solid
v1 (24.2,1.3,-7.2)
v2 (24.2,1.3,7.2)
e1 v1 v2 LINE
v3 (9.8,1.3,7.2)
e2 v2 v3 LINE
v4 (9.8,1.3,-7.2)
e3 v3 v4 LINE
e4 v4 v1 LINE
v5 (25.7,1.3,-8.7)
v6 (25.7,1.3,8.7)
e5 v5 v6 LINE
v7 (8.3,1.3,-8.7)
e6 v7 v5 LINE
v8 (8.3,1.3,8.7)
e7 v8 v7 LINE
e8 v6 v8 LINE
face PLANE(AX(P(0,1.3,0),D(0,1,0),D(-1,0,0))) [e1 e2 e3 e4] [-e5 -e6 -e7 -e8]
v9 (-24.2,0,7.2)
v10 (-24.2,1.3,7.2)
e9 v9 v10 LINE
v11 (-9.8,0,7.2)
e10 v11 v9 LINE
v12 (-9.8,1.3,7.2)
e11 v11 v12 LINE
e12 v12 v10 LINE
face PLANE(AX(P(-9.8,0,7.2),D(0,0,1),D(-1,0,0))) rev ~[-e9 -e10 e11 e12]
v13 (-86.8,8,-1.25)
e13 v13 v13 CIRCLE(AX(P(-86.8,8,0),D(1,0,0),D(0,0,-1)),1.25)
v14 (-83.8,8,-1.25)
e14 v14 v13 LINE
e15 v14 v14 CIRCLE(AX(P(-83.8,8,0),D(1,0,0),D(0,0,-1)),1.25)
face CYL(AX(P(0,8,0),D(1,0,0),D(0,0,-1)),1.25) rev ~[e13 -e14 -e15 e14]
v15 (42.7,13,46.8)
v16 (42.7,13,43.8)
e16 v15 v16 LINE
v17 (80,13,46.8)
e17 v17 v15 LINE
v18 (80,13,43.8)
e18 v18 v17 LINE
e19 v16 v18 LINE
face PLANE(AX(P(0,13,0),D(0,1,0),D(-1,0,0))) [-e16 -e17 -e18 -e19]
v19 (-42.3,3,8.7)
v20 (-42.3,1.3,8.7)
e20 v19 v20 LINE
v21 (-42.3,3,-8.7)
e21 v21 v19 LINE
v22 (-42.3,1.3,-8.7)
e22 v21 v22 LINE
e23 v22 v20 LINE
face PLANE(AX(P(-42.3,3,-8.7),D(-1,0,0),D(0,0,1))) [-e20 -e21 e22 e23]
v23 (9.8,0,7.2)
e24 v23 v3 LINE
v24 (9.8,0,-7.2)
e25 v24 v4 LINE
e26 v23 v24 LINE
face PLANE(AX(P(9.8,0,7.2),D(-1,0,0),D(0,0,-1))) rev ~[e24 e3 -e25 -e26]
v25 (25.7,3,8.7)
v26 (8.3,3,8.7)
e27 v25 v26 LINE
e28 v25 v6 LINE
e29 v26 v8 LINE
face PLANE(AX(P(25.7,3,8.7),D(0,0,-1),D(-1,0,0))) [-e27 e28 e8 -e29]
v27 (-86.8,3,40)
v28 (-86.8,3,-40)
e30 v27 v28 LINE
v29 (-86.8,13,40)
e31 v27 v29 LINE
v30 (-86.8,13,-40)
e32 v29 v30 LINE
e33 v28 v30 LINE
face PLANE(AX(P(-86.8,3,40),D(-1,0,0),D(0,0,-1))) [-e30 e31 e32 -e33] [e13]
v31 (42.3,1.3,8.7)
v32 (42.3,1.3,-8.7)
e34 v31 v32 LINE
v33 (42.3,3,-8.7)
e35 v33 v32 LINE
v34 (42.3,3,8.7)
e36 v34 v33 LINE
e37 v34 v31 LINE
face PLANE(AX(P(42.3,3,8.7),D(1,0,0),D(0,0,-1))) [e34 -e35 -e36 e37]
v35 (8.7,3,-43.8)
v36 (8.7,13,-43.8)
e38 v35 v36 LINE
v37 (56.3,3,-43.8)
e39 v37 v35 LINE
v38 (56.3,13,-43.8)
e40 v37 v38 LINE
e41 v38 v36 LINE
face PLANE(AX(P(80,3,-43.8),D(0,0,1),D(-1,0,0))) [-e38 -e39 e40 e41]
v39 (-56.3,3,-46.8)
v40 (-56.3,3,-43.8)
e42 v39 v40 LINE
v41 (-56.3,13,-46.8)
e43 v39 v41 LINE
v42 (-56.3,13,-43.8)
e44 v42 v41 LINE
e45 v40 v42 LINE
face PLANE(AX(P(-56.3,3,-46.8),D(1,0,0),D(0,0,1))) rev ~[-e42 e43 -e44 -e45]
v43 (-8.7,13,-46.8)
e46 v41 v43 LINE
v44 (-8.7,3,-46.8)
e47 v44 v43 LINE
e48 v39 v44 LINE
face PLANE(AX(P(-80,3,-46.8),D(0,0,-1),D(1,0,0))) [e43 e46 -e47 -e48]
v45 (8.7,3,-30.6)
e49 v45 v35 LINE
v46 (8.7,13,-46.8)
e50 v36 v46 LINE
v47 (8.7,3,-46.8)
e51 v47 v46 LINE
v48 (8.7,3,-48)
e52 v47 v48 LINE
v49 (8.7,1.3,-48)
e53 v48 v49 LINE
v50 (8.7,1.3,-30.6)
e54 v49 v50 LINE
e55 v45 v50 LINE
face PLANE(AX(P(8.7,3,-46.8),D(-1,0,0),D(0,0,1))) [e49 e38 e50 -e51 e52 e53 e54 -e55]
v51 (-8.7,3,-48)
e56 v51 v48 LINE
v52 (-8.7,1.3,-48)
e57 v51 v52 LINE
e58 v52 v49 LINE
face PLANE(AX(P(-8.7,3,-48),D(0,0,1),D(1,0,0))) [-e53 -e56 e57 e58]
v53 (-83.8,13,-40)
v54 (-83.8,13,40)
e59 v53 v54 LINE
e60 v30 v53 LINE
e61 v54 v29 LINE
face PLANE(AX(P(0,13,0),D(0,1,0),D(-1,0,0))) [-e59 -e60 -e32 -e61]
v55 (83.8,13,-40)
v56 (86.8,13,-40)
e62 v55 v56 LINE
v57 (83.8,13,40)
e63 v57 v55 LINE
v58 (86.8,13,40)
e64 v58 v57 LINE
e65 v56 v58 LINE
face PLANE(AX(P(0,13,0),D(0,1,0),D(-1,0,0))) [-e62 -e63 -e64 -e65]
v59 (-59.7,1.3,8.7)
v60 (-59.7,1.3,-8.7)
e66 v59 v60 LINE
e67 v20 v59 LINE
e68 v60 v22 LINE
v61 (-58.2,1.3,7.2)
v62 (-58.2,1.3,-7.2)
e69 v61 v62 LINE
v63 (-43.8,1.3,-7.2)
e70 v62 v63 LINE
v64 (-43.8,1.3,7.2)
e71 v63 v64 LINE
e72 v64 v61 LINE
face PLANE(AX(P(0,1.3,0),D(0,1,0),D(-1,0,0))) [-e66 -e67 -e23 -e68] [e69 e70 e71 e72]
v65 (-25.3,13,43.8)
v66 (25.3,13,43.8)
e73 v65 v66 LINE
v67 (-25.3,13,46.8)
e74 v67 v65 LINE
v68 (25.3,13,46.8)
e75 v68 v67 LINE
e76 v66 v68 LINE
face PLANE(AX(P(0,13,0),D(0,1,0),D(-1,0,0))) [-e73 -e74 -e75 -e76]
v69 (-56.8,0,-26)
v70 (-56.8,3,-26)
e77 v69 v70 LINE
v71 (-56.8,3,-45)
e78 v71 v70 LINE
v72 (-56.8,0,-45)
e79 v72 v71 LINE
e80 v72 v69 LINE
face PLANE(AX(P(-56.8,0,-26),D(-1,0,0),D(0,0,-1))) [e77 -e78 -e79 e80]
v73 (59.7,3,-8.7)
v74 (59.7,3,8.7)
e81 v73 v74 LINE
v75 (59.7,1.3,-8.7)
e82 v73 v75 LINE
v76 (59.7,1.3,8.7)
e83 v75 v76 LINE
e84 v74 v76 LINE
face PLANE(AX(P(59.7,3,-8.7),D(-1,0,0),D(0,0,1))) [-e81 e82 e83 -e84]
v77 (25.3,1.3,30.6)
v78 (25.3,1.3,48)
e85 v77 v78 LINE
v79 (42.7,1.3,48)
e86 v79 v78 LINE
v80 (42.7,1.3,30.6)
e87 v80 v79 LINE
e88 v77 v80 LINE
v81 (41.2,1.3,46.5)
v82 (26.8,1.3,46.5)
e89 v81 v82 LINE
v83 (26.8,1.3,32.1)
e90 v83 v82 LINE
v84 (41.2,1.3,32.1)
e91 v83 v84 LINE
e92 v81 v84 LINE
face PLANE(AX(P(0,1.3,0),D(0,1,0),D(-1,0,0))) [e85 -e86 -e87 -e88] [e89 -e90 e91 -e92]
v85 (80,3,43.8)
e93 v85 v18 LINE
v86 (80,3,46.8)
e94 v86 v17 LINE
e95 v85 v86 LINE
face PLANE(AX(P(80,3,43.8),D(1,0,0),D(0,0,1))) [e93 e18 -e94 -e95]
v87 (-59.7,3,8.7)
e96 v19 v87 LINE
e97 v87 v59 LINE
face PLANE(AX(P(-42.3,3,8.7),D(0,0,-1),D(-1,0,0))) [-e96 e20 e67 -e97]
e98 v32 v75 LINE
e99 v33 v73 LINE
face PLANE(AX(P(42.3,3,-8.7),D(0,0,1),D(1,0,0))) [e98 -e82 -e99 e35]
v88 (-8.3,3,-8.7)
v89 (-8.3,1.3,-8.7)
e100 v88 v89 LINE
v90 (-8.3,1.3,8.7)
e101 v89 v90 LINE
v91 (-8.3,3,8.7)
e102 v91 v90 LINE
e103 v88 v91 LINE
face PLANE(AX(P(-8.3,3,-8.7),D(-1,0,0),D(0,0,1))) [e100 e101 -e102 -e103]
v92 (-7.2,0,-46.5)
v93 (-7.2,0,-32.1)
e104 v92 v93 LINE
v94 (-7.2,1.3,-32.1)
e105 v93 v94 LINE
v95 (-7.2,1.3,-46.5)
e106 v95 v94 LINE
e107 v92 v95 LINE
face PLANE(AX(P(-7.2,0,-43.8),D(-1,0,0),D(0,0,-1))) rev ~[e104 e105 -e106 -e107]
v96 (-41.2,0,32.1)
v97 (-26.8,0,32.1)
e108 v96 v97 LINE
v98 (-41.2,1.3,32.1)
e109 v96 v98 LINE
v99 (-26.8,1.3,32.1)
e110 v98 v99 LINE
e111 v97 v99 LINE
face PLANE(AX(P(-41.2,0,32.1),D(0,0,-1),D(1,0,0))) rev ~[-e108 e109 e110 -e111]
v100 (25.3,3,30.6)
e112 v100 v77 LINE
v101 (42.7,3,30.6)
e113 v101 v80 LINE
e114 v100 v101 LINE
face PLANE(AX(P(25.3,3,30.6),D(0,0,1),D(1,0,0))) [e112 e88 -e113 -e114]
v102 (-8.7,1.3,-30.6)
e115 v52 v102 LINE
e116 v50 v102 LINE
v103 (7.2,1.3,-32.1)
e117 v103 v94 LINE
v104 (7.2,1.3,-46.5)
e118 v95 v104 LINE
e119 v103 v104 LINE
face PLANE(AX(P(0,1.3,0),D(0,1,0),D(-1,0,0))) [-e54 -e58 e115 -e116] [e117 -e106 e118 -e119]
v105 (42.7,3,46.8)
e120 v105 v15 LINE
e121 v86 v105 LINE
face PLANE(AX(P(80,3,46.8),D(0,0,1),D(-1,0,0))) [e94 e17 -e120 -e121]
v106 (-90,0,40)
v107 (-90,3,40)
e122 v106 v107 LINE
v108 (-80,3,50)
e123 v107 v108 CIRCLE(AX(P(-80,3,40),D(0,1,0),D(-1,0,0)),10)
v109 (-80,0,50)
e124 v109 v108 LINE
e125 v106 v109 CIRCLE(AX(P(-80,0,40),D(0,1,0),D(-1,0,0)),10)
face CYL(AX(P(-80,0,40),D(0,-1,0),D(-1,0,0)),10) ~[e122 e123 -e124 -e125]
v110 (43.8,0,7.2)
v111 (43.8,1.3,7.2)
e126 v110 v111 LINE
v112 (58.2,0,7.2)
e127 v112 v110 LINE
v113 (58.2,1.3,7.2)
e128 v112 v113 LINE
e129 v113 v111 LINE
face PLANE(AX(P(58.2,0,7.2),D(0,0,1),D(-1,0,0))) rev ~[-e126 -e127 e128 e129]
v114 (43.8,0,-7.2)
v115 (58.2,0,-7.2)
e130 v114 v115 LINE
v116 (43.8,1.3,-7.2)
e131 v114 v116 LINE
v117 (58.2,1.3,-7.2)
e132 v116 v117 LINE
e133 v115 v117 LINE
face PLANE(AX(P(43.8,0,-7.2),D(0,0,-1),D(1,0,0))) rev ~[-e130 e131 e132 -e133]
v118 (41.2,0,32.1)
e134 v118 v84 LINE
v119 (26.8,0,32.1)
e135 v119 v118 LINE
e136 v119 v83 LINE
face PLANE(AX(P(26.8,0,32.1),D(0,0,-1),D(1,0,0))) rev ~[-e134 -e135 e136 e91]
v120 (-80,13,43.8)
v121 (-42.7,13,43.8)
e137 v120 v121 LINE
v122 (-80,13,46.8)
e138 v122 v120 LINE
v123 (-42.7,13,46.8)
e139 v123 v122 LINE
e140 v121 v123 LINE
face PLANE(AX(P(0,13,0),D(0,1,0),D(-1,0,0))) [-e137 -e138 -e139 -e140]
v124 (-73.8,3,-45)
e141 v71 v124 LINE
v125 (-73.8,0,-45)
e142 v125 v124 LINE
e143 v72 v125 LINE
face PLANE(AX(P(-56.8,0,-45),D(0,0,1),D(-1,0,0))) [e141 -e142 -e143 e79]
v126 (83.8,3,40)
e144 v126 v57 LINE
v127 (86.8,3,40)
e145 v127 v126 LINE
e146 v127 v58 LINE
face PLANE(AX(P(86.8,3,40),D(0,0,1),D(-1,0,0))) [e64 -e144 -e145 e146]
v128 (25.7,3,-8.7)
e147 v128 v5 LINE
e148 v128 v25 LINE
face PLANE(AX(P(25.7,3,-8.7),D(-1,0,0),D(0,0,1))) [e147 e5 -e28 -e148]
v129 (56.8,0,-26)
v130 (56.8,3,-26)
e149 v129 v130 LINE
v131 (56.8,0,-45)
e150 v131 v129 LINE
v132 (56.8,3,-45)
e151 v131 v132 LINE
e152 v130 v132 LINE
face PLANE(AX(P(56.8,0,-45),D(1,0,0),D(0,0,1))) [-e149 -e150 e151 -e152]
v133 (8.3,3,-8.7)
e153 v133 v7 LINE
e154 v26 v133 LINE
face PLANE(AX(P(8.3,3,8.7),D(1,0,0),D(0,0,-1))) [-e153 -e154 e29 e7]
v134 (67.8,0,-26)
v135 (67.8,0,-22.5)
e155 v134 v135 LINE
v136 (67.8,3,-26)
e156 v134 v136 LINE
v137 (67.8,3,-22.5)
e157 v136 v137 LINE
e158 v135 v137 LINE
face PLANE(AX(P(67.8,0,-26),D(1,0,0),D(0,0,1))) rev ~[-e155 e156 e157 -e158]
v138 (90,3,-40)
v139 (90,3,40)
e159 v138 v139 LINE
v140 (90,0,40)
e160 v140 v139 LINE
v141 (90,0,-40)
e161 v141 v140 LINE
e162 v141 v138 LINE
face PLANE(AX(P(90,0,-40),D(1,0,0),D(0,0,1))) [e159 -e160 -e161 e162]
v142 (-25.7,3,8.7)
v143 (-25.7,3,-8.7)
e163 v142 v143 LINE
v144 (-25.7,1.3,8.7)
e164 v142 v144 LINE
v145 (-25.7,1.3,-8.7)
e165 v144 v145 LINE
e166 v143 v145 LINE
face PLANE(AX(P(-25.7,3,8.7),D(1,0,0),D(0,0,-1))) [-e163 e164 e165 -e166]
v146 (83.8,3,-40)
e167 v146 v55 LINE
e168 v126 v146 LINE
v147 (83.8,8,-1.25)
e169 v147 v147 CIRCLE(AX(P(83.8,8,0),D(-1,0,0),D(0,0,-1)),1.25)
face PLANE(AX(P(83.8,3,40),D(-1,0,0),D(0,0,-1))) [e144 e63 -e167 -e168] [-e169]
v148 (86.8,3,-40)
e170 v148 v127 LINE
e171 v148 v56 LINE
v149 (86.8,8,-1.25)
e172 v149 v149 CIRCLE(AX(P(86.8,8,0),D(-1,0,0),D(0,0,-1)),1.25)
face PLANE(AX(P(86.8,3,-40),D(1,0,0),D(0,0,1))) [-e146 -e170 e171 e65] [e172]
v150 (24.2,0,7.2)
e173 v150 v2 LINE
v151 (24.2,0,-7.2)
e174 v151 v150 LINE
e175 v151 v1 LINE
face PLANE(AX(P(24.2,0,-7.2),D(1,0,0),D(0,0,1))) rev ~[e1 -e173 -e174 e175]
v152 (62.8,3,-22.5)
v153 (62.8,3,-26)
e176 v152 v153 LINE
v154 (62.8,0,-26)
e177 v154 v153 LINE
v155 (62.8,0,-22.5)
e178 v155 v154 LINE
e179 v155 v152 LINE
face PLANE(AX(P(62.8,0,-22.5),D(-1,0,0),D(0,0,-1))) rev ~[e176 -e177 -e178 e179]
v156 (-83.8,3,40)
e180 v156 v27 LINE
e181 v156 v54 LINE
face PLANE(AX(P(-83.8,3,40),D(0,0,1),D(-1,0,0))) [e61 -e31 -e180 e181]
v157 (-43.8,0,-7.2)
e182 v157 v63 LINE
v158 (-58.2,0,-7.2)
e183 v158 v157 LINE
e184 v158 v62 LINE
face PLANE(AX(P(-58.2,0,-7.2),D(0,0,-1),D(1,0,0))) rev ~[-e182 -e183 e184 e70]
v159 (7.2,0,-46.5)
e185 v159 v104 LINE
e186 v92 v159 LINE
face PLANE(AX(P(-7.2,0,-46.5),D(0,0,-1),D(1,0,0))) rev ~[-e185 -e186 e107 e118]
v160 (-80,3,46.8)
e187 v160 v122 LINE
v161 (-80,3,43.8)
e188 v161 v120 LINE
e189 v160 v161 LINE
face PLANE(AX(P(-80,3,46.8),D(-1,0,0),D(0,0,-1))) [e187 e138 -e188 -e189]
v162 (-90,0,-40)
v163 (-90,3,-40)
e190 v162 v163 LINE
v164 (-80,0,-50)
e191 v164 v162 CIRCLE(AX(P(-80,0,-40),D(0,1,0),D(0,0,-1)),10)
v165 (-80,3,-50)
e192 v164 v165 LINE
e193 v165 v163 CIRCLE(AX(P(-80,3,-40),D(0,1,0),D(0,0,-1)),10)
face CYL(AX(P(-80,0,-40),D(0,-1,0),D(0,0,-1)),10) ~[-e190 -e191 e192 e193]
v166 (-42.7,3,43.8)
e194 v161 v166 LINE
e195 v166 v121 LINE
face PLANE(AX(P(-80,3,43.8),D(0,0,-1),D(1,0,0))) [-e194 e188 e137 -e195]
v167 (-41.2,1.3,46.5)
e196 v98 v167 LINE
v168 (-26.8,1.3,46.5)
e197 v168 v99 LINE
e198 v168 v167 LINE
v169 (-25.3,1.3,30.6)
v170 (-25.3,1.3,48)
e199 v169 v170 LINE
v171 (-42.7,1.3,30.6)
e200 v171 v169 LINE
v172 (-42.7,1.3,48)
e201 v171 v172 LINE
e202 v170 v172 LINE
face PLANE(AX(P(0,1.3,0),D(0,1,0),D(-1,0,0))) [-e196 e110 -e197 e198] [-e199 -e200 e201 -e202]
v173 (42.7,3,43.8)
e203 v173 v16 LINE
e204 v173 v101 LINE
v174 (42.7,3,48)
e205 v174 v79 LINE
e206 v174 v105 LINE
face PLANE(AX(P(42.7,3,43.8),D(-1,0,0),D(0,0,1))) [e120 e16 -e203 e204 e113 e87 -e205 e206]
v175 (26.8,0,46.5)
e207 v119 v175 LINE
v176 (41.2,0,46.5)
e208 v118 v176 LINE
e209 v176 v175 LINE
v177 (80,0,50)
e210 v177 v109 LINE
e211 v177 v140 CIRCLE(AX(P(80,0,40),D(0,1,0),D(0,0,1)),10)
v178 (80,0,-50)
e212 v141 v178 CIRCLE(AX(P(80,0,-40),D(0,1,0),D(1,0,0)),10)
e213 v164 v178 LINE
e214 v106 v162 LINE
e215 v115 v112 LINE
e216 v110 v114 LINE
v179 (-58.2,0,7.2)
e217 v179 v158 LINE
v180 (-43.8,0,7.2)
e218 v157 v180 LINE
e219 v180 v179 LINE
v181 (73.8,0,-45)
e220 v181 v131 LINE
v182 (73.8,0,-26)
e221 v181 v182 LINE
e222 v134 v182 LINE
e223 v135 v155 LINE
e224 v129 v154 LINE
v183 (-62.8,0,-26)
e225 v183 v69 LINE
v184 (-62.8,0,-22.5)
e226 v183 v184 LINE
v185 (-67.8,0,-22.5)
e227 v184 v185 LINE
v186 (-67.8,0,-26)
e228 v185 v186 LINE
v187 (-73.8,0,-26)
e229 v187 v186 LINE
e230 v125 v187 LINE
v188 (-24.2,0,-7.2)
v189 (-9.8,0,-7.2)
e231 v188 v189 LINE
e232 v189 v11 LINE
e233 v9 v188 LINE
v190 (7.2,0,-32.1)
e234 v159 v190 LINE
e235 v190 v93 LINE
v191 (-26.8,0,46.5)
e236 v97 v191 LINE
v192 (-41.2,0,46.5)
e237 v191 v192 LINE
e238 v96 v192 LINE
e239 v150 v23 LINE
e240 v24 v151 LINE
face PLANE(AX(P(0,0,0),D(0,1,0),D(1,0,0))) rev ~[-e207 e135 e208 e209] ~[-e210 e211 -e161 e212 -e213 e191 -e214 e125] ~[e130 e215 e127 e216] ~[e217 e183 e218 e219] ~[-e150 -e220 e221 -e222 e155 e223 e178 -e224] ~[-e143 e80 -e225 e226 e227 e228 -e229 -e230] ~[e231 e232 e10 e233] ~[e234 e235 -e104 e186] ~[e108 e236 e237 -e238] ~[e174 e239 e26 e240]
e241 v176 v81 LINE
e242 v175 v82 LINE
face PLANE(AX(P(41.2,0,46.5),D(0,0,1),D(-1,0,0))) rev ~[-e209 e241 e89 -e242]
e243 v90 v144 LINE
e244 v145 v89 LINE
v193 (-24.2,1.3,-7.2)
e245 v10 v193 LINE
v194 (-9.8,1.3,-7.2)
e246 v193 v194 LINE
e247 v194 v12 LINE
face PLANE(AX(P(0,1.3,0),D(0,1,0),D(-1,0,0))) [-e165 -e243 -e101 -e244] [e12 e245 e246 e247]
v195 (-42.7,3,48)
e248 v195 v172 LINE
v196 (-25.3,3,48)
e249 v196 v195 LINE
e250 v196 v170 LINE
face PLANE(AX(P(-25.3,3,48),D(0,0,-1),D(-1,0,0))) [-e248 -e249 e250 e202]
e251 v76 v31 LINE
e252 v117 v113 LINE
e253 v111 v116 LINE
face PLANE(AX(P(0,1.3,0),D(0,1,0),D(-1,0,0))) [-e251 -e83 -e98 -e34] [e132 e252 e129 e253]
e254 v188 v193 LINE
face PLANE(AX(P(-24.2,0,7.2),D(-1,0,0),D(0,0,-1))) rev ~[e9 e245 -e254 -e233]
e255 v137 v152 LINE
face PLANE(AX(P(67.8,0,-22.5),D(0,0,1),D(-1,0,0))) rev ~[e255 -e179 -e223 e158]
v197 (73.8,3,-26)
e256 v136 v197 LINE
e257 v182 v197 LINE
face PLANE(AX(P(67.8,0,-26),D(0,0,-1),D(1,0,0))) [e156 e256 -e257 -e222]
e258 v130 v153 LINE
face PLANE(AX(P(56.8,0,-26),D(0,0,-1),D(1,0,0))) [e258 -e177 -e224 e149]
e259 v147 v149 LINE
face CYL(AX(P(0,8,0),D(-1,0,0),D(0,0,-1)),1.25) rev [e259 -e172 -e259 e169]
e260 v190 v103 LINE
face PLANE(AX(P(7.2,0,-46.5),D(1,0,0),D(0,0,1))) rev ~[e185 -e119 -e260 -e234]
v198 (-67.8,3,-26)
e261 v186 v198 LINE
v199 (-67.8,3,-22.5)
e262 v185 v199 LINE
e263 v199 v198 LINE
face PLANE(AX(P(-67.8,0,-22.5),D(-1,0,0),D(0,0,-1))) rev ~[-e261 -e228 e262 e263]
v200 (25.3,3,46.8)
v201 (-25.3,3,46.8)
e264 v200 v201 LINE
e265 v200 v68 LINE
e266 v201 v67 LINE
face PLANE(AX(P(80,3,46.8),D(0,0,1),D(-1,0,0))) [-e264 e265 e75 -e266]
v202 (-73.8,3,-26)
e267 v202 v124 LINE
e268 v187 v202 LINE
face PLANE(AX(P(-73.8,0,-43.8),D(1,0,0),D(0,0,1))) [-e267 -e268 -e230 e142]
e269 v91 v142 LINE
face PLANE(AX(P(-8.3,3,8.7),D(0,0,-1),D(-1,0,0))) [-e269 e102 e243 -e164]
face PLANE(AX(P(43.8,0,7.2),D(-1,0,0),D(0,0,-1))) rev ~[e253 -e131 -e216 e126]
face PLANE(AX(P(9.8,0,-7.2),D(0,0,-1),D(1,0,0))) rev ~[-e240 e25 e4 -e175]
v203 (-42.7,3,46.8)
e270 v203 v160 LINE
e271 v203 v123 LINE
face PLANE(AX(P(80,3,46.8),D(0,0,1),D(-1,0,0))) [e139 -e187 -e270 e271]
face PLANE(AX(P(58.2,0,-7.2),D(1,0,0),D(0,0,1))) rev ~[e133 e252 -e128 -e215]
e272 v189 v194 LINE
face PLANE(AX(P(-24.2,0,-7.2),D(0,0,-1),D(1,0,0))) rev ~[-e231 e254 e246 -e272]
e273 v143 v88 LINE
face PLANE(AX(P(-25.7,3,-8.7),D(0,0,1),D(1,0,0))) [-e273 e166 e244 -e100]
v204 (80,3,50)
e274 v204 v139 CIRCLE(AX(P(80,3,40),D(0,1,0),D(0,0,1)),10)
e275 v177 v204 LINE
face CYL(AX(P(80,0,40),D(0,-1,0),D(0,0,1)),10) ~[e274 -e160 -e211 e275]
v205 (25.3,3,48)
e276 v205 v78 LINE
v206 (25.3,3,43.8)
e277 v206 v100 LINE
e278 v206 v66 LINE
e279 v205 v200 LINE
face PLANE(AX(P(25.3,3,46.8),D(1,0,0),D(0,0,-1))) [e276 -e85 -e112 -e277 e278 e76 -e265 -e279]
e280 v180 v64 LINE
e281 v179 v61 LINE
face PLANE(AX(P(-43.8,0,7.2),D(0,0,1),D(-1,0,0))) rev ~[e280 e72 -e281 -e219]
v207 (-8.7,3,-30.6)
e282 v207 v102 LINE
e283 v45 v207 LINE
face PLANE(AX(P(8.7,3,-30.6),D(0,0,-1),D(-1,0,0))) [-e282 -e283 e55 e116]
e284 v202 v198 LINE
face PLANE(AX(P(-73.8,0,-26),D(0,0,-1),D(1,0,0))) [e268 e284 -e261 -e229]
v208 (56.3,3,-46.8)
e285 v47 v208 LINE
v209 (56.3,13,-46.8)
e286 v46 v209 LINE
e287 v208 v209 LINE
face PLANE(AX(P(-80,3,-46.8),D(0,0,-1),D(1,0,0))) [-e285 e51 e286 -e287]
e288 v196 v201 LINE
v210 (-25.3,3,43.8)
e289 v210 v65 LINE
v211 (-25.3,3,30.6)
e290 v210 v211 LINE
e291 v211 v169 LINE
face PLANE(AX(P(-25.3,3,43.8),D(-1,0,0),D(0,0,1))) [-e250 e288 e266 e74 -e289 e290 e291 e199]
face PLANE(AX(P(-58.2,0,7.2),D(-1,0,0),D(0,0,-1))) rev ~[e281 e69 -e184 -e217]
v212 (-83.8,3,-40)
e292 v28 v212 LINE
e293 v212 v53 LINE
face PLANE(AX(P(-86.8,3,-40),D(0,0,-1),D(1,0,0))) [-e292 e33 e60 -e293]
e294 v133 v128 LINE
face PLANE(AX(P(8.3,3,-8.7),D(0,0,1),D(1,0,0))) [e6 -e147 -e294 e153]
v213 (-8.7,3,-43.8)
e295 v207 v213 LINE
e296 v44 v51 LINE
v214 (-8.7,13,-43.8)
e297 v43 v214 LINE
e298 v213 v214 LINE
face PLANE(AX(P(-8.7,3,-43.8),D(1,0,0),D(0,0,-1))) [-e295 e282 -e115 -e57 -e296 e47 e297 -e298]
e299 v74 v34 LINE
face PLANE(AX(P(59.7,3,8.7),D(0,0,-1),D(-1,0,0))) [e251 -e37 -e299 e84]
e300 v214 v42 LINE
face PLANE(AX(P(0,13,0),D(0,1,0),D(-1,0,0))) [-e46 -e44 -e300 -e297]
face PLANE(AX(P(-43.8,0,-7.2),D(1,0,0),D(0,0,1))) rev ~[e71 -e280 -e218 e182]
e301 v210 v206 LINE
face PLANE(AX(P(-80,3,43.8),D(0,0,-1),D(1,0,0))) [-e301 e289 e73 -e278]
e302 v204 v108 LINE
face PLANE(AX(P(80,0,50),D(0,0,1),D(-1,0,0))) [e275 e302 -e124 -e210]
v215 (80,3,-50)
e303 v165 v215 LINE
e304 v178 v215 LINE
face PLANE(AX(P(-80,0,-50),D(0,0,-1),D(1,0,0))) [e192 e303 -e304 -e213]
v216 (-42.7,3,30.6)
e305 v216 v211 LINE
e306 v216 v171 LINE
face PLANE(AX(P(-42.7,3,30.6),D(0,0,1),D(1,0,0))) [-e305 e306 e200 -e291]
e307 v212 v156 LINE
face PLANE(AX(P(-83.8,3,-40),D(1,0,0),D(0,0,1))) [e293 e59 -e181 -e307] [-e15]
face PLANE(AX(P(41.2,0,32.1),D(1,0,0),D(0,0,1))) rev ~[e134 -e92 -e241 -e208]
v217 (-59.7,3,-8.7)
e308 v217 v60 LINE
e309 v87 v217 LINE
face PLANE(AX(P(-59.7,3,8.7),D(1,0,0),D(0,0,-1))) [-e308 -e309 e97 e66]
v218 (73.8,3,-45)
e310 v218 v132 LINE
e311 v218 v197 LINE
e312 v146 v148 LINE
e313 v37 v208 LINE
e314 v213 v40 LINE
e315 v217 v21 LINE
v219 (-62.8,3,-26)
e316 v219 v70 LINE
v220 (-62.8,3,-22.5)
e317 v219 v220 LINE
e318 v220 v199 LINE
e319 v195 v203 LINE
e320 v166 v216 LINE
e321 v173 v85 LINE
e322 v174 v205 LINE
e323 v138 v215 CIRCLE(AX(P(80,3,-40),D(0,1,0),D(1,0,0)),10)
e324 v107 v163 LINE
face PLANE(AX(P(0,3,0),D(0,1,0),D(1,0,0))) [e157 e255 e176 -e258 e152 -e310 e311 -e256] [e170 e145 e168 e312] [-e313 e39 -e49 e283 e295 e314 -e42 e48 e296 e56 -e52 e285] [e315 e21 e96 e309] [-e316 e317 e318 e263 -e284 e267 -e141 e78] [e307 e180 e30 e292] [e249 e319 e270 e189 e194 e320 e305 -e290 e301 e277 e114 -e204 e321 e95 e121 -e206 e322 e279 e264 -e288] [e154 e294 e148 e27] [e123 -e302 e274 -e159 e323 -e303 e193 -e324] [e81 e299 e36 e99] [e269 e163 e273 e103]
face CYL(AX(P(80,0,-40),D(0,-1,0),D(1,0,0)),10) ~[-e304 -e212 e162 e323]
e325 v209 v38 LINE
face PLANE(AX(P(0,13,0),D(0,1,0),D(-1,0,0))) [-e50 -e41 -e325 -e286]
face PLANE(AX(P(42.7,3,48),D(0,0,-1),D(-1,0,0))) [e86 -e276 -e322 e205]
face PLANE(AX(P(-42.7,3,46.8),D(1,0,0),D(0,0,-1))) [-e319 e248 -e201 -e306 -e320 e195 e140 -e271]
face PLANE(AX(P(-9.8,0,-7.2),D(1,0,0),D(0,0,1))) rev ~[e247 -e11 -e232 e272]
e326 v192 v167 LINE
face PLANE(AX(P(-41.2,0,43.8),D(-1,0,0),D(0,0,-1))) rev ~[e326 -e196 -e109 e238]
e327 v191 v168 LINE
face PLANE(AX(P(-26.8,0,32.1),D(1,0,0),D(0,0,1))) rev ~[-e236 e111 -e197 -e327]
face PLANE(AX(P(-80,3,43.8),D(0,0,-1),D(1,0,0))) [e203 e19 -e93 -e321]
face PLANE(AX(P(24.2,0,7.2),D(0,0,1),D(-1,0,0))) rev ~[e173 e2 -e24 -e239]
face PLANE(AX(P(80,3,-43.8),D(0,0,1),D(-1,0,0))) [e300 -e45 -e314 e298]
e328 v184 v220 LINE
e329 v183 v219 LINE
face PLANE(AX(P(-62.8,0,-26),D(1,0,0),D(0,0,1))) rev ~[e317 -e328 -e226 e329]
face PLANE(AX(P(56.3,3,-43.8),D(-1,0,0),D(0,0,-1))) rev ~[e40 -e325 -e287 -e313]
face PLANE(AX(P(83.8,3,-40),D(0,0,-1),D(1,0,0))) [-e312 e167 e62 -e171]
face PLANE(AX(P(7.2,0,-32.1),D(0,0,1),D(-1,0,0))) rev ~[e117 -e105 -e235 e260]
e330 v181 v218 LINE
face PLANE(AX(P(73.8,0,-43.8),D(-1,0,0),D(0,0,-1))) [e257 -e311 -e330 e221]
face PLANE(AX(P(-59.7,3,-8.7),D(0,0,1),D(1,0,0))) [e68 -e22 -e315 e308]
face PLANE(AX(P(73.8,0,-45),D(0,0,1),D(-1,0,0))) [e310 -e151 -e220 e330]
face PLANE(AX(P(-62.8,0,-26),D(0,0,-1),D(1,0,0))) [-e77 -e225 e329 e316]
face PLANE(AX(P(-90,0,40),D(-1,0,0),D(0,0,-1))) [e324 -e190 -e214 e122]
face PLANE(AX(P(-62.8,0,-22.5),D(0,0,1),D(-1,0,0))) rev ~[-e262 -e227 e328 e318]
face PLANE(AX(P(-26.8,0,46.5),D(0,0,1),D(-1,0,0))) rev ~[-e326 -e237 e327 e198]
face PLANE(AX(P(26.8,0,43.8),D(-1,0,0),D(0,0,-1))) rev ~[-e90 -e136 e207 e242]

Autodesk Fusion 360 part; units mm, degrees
sketch "Top" plane through (0, 0, 0) normal (0, 1, 0) x (1, 0, 0)
  line L0 (-80, 50) -> (80, 50)
  line L1 (90, 40) -> (90, -40)
  line L2 (80, -50) -> (-80, -50)
  line L3 (-90, -40) -> (-90, 40)
  line L4 (-90, 50) -> (90, -50) construction
  line L5 (90, 50) -> (-90, -50) construction
  arc A0 (-80, 50) -> (-90, 40) centre (-80, 40) ccw
  arc A1 (90, 40) -> (80, 50) centre (80, 40) ccw
  arc A2 (80, -50) -> (90, -40) centre (80, -40) ccw
  arc A3 (-90, -40) -> (-80, -50) centre (-80, -40) ccw
  dimension "d310" = 180
  dimension "d311" = 100
  dimension "d312" = 10
extrude "Top Extrusion" add sketch "Top" along normal blind 3
sketch "Tabs" plane through (0, 3, 0) normal (0, 1, 0) x (-1, 0, 0)
  arc A0 (80, -50) -> (90, -40) centre (80, -40) ccw
  line L0 (90, -40) -> (90, 40)
  arc A1 (90, 40) -> (80, 50) centre (80, 40) ccw
  line L1 (80, 50) -> (-80, 50)
  arc A2 (-80, 50) -> (-90, 40) centre (-80, 40) ccw
  line L2 (-90, 40) -> (-90, -40)
  arc A3 (-90, -40) -> (-80, -50) centre (-80, -40) ccw
  line L3 (-80, -50) -> (80, -50)
  line L4 (86.8, -40) -> (83.8, -40)
  line L5 (83.8, -40) -> (83.8, 40)
  line L6 (83.8, 40) -> (86.8, 40)
  line L7 (86.8, 40) -> (86.8, -40)
  line L8 (86.8, -40) -> (83.8, 40) construction
  line L9 (83.8, -40) -> (86.8, 40) construction
  line L10 (80, -46.8) -> (-80, -46.8)
  line L11 (-80, -46.8) -> (-80, -43.8)
  line L12 (-80, -43.8) -> (80, -43.8)
  line L13 (80, -43.8) -> (80, -46.8)
  line L14 (80, -46.8) -> (-80, -43.8) construction
  line L15 (-80, -46.8) -> (80, -43.8) construction
  line L16 (80, 43.8) -> (-80, 43.8)
  line L17 (-80, 43.8) -> (-80, 46.8)
  line L18 (-80, 46.8) -> (80, 46.8)
  line L19 (80, 46.8) -> (80, 43.8)
  line L20 (80, 43.8) -> (-80, 46.8) construction
  line L21 (-80, 43.8) -> (80, 46.8) construction
  line L22 (-83.8, -40) -> (-86.8, -40)
  line L23 (-86.8, -40) -> (-86.8, 40)
  line L24 (-86.8, 40) -> (-83.8, 40)
  line L25 (-83.8, 40) -> (-83.8, -40)
  line L26 (-83.8, -40) -> (-86.8, 40) construction
  line L27 (-86.8, -40) -> (-83.8, 40) construction
  point P0 (85.3, 0)
  point P1 (0, -45.3)
  point P2 (0, 45.3)
  point P3 (-85.3, 0)
  dimension "d315" = 3
  dimension "d316" = 10
  dimension "d317" = 10
  dimension "d318" = 3.2
  dimension "d319" = 3
  dimension "d320" = 10
  dimension "d321" = 10
  dimension "d322" = 3.2
  dimension "d324" = 3
  dimension "d325" = 10
  dimension "d326" = 10
  dimension "d327" = 3
  dimension "d329" = 10
  dimension "d330" = 10
  dimension "d333" = 3.2
  dimension "d334" = 3.2
extrude "Tabs Extrusion" add sketch "Tabs" along normal blind 10 contours L4 L5 L6 L7 | L10 L11 L12 L13 | L16 L17 L18 L19 | L22 L23 L24 L25
sketch "Switches" plane through (0, 3, 0) normal (0, 1, 0) x (-1, 0, 0)
  line L0 (86.8, 40) -> (86.8, -40)
  line L1 (86.8, -40) -> (83.8, -40)
  line L2 (83.8, -40) -> (83.8, 40)
  line L3 (83.8, 40) -> (86.8, 40)
  line L4 (80, -43.8) -> (80, -46.8)
  line L5 (80, -46.8) -> (-80, -46.8)
  line L6 (-80, -46.8) -> (-80, -43.8)
  line L7 (-80, -43.8) -> (80, -43.8)
  line L8 (80, 46.8) -> (80, 43.8)
  line L9 (80, 43.8) -> (-80, 43.8)
  line L10 (-80, 43.8) -> (-80, 46.8)
  line L11 (-80, 46.8) -> (80, 46.8)
  line L12 (-83.8, 40) -> (-83.8, -40)
  line L13 (-83.8, -40) -> (-86.8, -40)
  line L14 (-86.8, -40) -> (-86.8, 40)
  line L15 (-86.8, 40) -> (-83.8, 40)
  arc A0 (80, -50) -> (90, -40) centre (80, -40) ccw
  line L16 (90, -40) -> (90, 40)
  arc A1 (90, 40) -> (80, 50) centre (80, 40) ccw
  line L17 (80, 50) -> (-80, 50)
  arc A2 (-80, 50) -> (-90, 40) centre (-80, 40) ccw
  line L18 (-90, 40) -> (-90, -40)
  arc A3 (-90, -40) -> (-80, -50) centre (-80, -40) ccw
  line L19 (-80, -50) -> (80, -50)
  line L20 (-59.7, 8.7) -> (-42.3, 8.7)
  line L21 (-42.3, 8.7) -> (-42.3, -8.7)
  line L22 (-58.2, -7.2) -> (-58.2, 7.2)
  line L23 (-42.3, -8.7) -> (-59.7, -8.7)
  line L24 (-43.8, 7.2) -> (-43.8, -7.2)
  line L25 (-58.2, 7.2) -> (-43.8, 7.2)
  line L26 (-43.8, -7.2) -> (-58.2, 7.2) construction
  line L27 (-59.7, -8.7) -> (-59.7, 8.7)
  line L28 (-59.7, -8.7) -> (-42.3, 8.7) construction
  line L29 (-58.2, -7.2) -> (-43.8, 7.2) construction
  line L30 (-42.3, -8.7) -> (-59.7, 8.7) construction
  line L31 (-43.8, -7.2) -> (-58.2, -7.2)
  line L32 (24.2, 7.2) -> (24.2, -7.2)
  line L33 (8.3, -8.7) -> (8.3, 8.7)
  line L34 (25.7, -8.7) -> (8.3, 8.7) construction
  line L35 (9.8, 7.2) -> (24.2, 7.2)
  line L36 (24.2, -7.2) -> (9.8, 7.2) construction
  line L37 (8.3, -8.7) -> (25.7, 8.7) construction
  line L38 (9.8, -7.2) -> (24.2, 7.2) construction
  line L39 (24.2, -7.2) -> (9.8, -7.2)
  line L40 (25.7, 8.7) -> (25.7, -8.7)
  line L41 (9.8, -7.2) -> (9.8, 7.2)
  line L42 (25.7, -8.7) -> (8.3, -8.7)
  line L43 (8.3, 8.7) -> (25.7, 8.7)
  line L44 (-26.8, 32.1) -> (-41.2, 46.5) construction
  line L45 (-41.2, 46.5) -> (-26.8, 46.5)
  line L46 (-25.3, 30.6) -> (-42.7, 30.6)
  line L47 (-42.7, 48) -> (-25.3, 48)
  line L48 (-41.2, 32.1) -> (-41.2, 46.5)
  line L49 (-25.3, 48) -> (-25.3, 30.6)
  line L50 (-42.7, 30.6) -> (-42.7, 48)
  line L51 (-25.3, 30.6) -> (-42.7, 48) construction
  line L52 (-26.8, 32.1) -> (-41.2, 32.1)
  line L53 (-41.2, 32.1) -> (-26.8, 46.5) construction
  line L54 (-42.7, 30.6) -> (-25.3, 48) construction
  line L55 (-26.8, 46.5) -> (-26.8, 32.1)
  line L56 (25.3, 30.6) -> (42.7, 48) construction
  line L57 (26.8, 46.5) -> (41.2, 46.5)
  line L58 (42.7, 48) -> (42.7, 30.6)
  line L59 (26.8, 32.1) -> (41.2, 46.5) construction
  line L60 (41.2, 32.1) -> (26.8, 32.1)
  line L61 (25.3, 30.6) -> (25.3, 48)
  line L62 (41.2, 46.5) -> (41.2, 32.1)
  line L63 (25.3, 48) -> (42.7, 48)
  line L64 (42.7, 30.6) -> (25.3, 48) construction
  line L65 (42.7, 30.6) -> (25.3, 30.6)
  line L66 (26.8, 32.1) -> (26.8, 46.5)
  line L67 (41.2, 32.1) -> (26.8, 46.5) construction
  line L68 (-8.7, -48) -> (-8.7, -30.6)
  line L69 (-7.2, -46.5) -> (-7.2, -32.1)
  line L70 (7.2, -32.1) -> (7.2, -46.5)
  line L71 (-7.2, -46.5) -> (7.2, -32.1) construction
  line L72 (8.7, -30.6) -> (8.7, -48)
  line L73 (8.7, -48) -> (-8.7, -48)
  line L74 (7.2, -46.5) -> (-7.2, -32.1) construction
  line L75 (8.7, -48) -> (-8.7, -30.6) construction
  line L76 (-8.7, -48) -> (8.7, -30.6) construction
  line L77 (-8.7, -30.6) -> (8.7, -30.6)
  line L78 (7.2, -46.5) -> (-7.2, -46.5)
  line L79 (-7.2, -32.1) -> (7.2, -32.1)
  line L80 (42.3, -8.7) -> (42.3, 8.7)
  line L81 (43.8, 7.2) -> (58.2, 7.2)
  line L82 (42.3, 8.7) -> (59.7, 8.7)
  line L83 (59.7, -8.7) -> (42.3, -8.7)
  line L84 (58.2, -7.2) -> (43.8, -7.2)
  line L85 (58.2, 7.2) -> (58.2, -7.2)
  line L86 (42.3, -8.7) -> (59.7, 8.7) construction
  line L87 (59.7, -8.7) -> (42.3, 8.7) construction
  line L88 (43.8, -7.2) -> (43.8, 7.2)
  line L89 (43.8, -7.2) -> (58.2, 7.2) construction
  line L90 (58.2, -7.2) -> (43.8, 7.2) construction
  line L91 (59.7, 8.7) -> (59.7, -8.7)
  line L92 (-25.7, 8.7) -> (-8.3, 8.7)
  line L93 (-25.7, -8.7) -> (-8.3, 8.7) construction
  line L94 (-25.7, -8.7) -> (-25.7, 8.7)
  line L95 (-9.8, 7.2) -> (-9.8, -7.2)
  line L96 (-9.8, -7.2) -> (-24.2, -7.2)
  line L97 (-8.3, -8.7) -> (-25.7, 8.7) construction
  line L98 (-24.2, -7.2) -> (-9.8, 7.2) construction
  line L99 (-8.3, -8.7) -> (-25.7, -8.7)
  line L100 (-24.2, -7.2) -> (-24.2, 7.2)
  line L101 (-9.8, -7.2) -> (-24.2, 7.2) construction
  line L102 (-8.3, 8.7) -> (-8.3, -8.7)
  line L103 (-24.2, 7.2) -> (-9.8, 7.2)
  line L104 (80, 50) -> (-80, 50)
  point P0 (-51, 0)
  point P1 (17, 0)
  point P2 (-34, 39.3)
  point P3 (34, 39.3)
  point P4 (0, -39.3)
  point P5 (51, 0)
  point P6 (-17, 0)
  dimension "d345" = 14.4
  dimension "d346" = 14.4
  dimension "d347" = 1.5
  dimension "d348" = 1.5
  dimension "d349" = 1.5
  dimension "d350" = 1.5
  dimension "d363" = 14.4
  dimension "d364" = 14.4
  dimension "d365" = 1.5
  dimension "d366" = 1.5
  dimension "d367" = 1.5
  dimension "d368" = 1.5
  dimension "d369" = 14.4
  dimension "d370" = 14.4
  dimension "d371" = 1.5
  dimension "d372" = 1.5
  dimension "d373" = 1.5
  dimension "d374" = 1.5
  dimension "d375" = 14.4
  dimension "d376" = 14.4
  dimension "d377" = 1.5
  dimension "d378" = 1.5
  dimension "d379" = 1.5
  dimension "d380" = 1.5
  dimension "d381" = 14.4
  dimension "d382" = 14.4
  dimension "d383" = 1.5
  dimension "d384" = 1.5
  dimension "d385" = 1.5
  dimension "d386" = 1.5
  dimension "d387" = 14.4
  dimension "d388" = 14.4
  dimension "d389" = 1.5
  dimension "d390" = 1.5
  dimension "d391" = 1.5
  dimension "d392" = 1.5
  dimension "d393" = 14.4
  dimension "d394" = 14.4
  dimension "d395" = 1.5
  dimension "d396" = 1.5
  dimension "d397" = 1.5
  dimension "d398" = 1.5
  dimension "d406" = 34
  dimension "d407" = 34
  dimension "d408" = 34
  dimension "d409" = 17
  dimension "d445" = 2
  dimension "d446" = 2
  dimension "d447" = 2
  dimension "d459" = 17
  dimension "d460" = 17
extrude "Switches Extrusion" cut sketch "Switches" against normal blind 1.7 contours L5 L7 L68 L69 L70 L72 L78 | L7 L68 L69 L70 L72 L77 L79 | L5 L68 L72 L73 | L9 L11 L57 L58 L61 L62 L66 | L11 L58 L61 L63 | L9 L58 L60 L61 L62 L65 L66 | L9 L11 L45 L48 L49 L50 L55 | L11 L47 L49 L50 | L9 L46 L48 L49 L50 L52 L55 | L20 L21 L23 L27 | L33 L40 L42 L43 | L80 L82 L83 L91 | L92 L94 L99 L102
extrude "Switches Hole Extrusion" cut sketch "Switches" along normal blind 3 from surface at -3 contours L7 L69 L70 L78 | L7 L69 L70 L79 | L9 L60 L62 L66 | L9 L57 L62 L66 | L9 L48 L52 L55 | L9 L45 L48 L55 | L22 L24 L25 L31 | L32 L35 L39 L41 | L81 L84 L85 L88 | L95 L96 L100 L103
sketch "Tab Holes" plane through (0, 0, 0) normal (1, 0, 0) x (0, 0, -1)
  circle A0 centre (0, 8) radius 1.25
  line L0 (-40, 3) -> (40, 3)
  dimension "d418" = 2.5
  dimension "d419" = 5
extrude "Tab Holes Extrusion" cut sketch "Tab Holes" along normal through all and the other way through all
sketch "Encoders" plane through (0, 3, 0) normal (0, 1, 0) x (-1, 0, 0)
  line L0 (73.8, -26) -> (56.8, -26)
  line L1 (56.8, -26) -> (56.8, -45)
  line L2 (56.8, -45) -> (73.8, -45)
  line L3 (73.8, -45) -> (73.8, -26)
  line L4 (73.8, -26) -> (56.8, -45) construction
  line L5 (56.8, -26) -> (73.8, -45) construction
  line L6 (67.8, -26) -> (62.8, -26)
  line L7 (62.8, -26) -> (62.8, -22.5)
  line L8 (62.8, -22.5) -> (67.8, -22.5)
  line L9 (67.8, -22.5) -> (67.8, -26)
  arc A0 (80, -50) -> (90, -40) centre (80, -40) ccw
  line L10 (90, -40) -> (90, 40)
  arc A1 (90, 40) -> (80, 50) centre (80, 40) ccw
  line L11 (80, 50) -> (-80, 50)
  arc A2 (-80, 50) -> (-90, 40) centre (-80, 40) ccw
  line L12 (-90, 40) -> (-90, -40)
  arc A3 (-90, -40) -> (-80, -50) centre (-80, -40) ccw
  line L13 (-80, -50) -> (80, -50)
  line L14 (-83.8, 40) -> (-83.8, -40)
  line L15 (-83.8, -40) -> (-86.8, -40)
  line L16 (-86.8, -40) -> (-86.8, 40)
  line L17 (-86.8, 40) -> (-83.8, 40)
  line L18 (80, 46.8) -> (80, 43.8)
  line L19 (80, 43.8) -> (42.7, 43.8)
  line L20 (-80, 43.8) -> (-80, 46.8)
  line L21 (-25.3, 46.8) -> (25.3, 46.8)
  line L22 (80, -43.8) -> (80, -46.8)
  line L23 (-8.7, -46.8) -> (-80, -46.8)
  line L24 (-80, -46.8) -> (-80, -43.8)
  line L25 (-80, -43.8) -> (-8.7, -43.8)
  line L26 (86.8, 40) -> (86.8, -40)
  line L27 (86.8, -40) -> (83.8, -40)
  line L28 (83.8, -40) -> (83.8, 40)
  line L29 (83.8, 40) -> (86.8, 40)
  line L30 (25.3, 48) -> (42.7, 48)
  line L31 (42.7, 48) -> (42.7, 46.8)
  line L32 (42.7, 30.6) -> (25.3, 30.6)
  line L33 (25.3, 46.8) -> (25.3, 48)
  line L34 (8.7, -48) -> (-8.7, -48)
  line L35 (-8.7, -48) -> (-8.7, -46.8)
  line L36 (-8.7, -30.6) -> (8.7, -30.6)
  line L37 (8.7, -30.6) -> (8.7, -43.8)
  line L38 (25.7, -8.7) -> (8.3, -8.7)
  line L39 (8.3, -8.7) -> (8.3, 8.7)
  line L40 (8.3, 8.7) -> (25.7, 8.7)
  line L41 (25.7, 8.7) -> (25.7, -8.7)
  line L42 (-25.3, 48) -> (-25.3, 46.8)
  line L43 (-25.3, 30.6) -> (-42.7, 30.6)
  line L44 (-42.7, 46.8) -> (-42.7, 48)
  line L45 (-42.7, 48) -> (-25.3, 48)
  line L46 (-25.7, -8.7) -> (-25.7, 8.7)
  line L47 (-25.7, 8.7) -> (-8.3, 8.7)
  line L48 (-8.3, 8.7) -> (-8.3, -8.7)
  line L49 (-8.3, -8.7) -> (-25.7, -8.7)
  line L50 (42.3, -8.7) -> (42.3, 8.7)
  line L51 (42.3, 8.7) -> (59.7, 8.7)
  line L52 (59.7, 8.7) -> (59.7, -8.7)
  line L53 (59.7, -8.7) -> (42.3, -8.7)
  line L54 (-42.3, 8.7) -> (-42.3, -8.7)
  line L55 (-42.3, -8.7) -> (-59.7, -8.7)
  line L56 (-59.7, -8.7) -> (-59.7, 8.7)
  line L57 (-59.7, 8.7) -> (-42.3, 8.7)
  line L58 (-56.8, -26) -> (-73.8, -26)
  line L59 (-67.8, -22.5) -> (-62.8, -22.5)
  line L60 (-73.8, -45) -> (-56.8, -45)
  line L61 (-67.8, -26) -> (-67.8, -22.5)
  line L62 (-73.8, -26) -> (-73.8, -45)
  line L63 (-62.8, -22.5) -> (-62.8, -26)
  line L64 (-56.8, -26) -> (-73.8, -45) construction
  line L65 (-73.8, -26) -> (-56.8, -45) construction
  line L66 (-56.8, -45) -> (-56.8, -26)
  line L67 (-62.8, -26) -> (-67.8, -26)
  line L68 (42.7, 46.8) -> (80, 46.8)
  line L69 (42.7, 43.8) -> (42.7, 30.6)
  line L70 (25.3, 30.6) -> (25.3, 43.8)
  line L71 (25.3, 43.8) -> (-25.3, 43.8)
  line L72 (-25.3, 43.8) -> (-25.3, 30.6)
  line L73 (-42.7, 30.6) -> (-42.7, 43.8)
  line L74 (-42.7, 43.8) -> (-80, 43.8)
  line L75 (-80, 46.8) -> (-42.7, 46.8)
  line L76 (-8.7, -43.8) -> (-8.7, -30.6)
  line L77 (8.7, -43.8) -> (80, -43.8)
  line L78 (80, -46.8) -> (8.7, -46.8)
  line L79 (8.7, -46.8) -> (8.7, -48)
  line L80 (56.3, -43.8) -> (80, -43.8)
  line L81 (80, -43.8) -> (80, -46.8)
  line L82 (80, -46.8) -> (56.3, -46.8)
  line L83 (56.3, -46.8) -> (56.3, -43.8)
  line L84 (-80, -43.8) -> (-56.3, -43.8)
  line L85 (-56.3, -43.8) -> (-56.3, -46.8)
  line L86 (-56.3, -46.8) -> (-80, -46.8)
  line L87 (-80, -46.8) -> (-80, -43.8)
  point P0 (65.3, -35.5)
  point P1 (-65.3, -35.5)
  dimension "d421" = 17
  dimension "d422" = 19
  dimension "d423" = 5
  dimension "d424" = 3.5
  dimension "d425" = 2.5
  dimension "d431" = 17
  dimension "d432" = 19
  dimension "d433" = 5
  dimension "d434" = 3.5
  dimension "d435" = 2.5
  dimension "d437" = 10
  dimension "d439" = 10
  dimension "d443" = 5
  dimension "d444" = 5
  dimension "d461" = 23.7
  dimension "d462" = 3
  dimension "d463" = 0.5
  dimension "d464" = 23.7
  dimension "d465" = 3
  dimension "d468" = 0.5
extrude "Right Encoder Extrusion" cut sketch "Encoders" along normal blind 3 from surface at -3 contours L0 L1 L3 L6 L77 L80 | L0 L6 L7 L8 L9 | L1 L2 L3 L77 L80
extrude "Left Encoder Extrusion" cut sketch "Encoders" along normal blind 3 from surface at -3 contours L25 L60 L62 L66 L84 | L25 L58 L62 L66 L67 L84 | L58 L59 L61 L63 L67
extrude "Left Switch Tab Extrusion" cut sketch "Switches" along normal through all contours L9 L11 L45 L48 L49 L50 L55 | L9 L45 L48 L55
extrude "Right Switch Tab Extrusion" cut sketch "Switches" along normal through all contours L9 L11 L57 L58 L61 L62 L66 | L9 L57 L62 L66
extrude "Top Switch Tab Extrusion" cut sketch "Switches" along normal through all contours L5 L7 L68 L69 L70 L72 L78 | L7 L69 L70 L78
extrude "Encoders Tab Extrusion" cut sketch "Encoders" along normal through all contours L1 L2 L3 L22 L77 L78 L80 L81 L82 L83 | L1 L2 L3 L77 L80 | L23 L24 L25 L60 L62 L66 L84 L85 L86 L87 | L25 L60 L62 L66 L84
equation "d409 = ( 34 / 2 ) * 1 mm"
equation "d413 = -( 3 mm - 1.3 mm )"
equation "d419 = ( 10 / 2 ) * 1 mm"
equation "d425 = ( 5 / 2 ) * 1 mm"
equation "d435 = ( 5 / 2 ) * 1 mm"
equation "d459 = ( 34 / 2 ) * 1 mm"
equation "d460 = ( 34 / 2 ) * 1 mm"
